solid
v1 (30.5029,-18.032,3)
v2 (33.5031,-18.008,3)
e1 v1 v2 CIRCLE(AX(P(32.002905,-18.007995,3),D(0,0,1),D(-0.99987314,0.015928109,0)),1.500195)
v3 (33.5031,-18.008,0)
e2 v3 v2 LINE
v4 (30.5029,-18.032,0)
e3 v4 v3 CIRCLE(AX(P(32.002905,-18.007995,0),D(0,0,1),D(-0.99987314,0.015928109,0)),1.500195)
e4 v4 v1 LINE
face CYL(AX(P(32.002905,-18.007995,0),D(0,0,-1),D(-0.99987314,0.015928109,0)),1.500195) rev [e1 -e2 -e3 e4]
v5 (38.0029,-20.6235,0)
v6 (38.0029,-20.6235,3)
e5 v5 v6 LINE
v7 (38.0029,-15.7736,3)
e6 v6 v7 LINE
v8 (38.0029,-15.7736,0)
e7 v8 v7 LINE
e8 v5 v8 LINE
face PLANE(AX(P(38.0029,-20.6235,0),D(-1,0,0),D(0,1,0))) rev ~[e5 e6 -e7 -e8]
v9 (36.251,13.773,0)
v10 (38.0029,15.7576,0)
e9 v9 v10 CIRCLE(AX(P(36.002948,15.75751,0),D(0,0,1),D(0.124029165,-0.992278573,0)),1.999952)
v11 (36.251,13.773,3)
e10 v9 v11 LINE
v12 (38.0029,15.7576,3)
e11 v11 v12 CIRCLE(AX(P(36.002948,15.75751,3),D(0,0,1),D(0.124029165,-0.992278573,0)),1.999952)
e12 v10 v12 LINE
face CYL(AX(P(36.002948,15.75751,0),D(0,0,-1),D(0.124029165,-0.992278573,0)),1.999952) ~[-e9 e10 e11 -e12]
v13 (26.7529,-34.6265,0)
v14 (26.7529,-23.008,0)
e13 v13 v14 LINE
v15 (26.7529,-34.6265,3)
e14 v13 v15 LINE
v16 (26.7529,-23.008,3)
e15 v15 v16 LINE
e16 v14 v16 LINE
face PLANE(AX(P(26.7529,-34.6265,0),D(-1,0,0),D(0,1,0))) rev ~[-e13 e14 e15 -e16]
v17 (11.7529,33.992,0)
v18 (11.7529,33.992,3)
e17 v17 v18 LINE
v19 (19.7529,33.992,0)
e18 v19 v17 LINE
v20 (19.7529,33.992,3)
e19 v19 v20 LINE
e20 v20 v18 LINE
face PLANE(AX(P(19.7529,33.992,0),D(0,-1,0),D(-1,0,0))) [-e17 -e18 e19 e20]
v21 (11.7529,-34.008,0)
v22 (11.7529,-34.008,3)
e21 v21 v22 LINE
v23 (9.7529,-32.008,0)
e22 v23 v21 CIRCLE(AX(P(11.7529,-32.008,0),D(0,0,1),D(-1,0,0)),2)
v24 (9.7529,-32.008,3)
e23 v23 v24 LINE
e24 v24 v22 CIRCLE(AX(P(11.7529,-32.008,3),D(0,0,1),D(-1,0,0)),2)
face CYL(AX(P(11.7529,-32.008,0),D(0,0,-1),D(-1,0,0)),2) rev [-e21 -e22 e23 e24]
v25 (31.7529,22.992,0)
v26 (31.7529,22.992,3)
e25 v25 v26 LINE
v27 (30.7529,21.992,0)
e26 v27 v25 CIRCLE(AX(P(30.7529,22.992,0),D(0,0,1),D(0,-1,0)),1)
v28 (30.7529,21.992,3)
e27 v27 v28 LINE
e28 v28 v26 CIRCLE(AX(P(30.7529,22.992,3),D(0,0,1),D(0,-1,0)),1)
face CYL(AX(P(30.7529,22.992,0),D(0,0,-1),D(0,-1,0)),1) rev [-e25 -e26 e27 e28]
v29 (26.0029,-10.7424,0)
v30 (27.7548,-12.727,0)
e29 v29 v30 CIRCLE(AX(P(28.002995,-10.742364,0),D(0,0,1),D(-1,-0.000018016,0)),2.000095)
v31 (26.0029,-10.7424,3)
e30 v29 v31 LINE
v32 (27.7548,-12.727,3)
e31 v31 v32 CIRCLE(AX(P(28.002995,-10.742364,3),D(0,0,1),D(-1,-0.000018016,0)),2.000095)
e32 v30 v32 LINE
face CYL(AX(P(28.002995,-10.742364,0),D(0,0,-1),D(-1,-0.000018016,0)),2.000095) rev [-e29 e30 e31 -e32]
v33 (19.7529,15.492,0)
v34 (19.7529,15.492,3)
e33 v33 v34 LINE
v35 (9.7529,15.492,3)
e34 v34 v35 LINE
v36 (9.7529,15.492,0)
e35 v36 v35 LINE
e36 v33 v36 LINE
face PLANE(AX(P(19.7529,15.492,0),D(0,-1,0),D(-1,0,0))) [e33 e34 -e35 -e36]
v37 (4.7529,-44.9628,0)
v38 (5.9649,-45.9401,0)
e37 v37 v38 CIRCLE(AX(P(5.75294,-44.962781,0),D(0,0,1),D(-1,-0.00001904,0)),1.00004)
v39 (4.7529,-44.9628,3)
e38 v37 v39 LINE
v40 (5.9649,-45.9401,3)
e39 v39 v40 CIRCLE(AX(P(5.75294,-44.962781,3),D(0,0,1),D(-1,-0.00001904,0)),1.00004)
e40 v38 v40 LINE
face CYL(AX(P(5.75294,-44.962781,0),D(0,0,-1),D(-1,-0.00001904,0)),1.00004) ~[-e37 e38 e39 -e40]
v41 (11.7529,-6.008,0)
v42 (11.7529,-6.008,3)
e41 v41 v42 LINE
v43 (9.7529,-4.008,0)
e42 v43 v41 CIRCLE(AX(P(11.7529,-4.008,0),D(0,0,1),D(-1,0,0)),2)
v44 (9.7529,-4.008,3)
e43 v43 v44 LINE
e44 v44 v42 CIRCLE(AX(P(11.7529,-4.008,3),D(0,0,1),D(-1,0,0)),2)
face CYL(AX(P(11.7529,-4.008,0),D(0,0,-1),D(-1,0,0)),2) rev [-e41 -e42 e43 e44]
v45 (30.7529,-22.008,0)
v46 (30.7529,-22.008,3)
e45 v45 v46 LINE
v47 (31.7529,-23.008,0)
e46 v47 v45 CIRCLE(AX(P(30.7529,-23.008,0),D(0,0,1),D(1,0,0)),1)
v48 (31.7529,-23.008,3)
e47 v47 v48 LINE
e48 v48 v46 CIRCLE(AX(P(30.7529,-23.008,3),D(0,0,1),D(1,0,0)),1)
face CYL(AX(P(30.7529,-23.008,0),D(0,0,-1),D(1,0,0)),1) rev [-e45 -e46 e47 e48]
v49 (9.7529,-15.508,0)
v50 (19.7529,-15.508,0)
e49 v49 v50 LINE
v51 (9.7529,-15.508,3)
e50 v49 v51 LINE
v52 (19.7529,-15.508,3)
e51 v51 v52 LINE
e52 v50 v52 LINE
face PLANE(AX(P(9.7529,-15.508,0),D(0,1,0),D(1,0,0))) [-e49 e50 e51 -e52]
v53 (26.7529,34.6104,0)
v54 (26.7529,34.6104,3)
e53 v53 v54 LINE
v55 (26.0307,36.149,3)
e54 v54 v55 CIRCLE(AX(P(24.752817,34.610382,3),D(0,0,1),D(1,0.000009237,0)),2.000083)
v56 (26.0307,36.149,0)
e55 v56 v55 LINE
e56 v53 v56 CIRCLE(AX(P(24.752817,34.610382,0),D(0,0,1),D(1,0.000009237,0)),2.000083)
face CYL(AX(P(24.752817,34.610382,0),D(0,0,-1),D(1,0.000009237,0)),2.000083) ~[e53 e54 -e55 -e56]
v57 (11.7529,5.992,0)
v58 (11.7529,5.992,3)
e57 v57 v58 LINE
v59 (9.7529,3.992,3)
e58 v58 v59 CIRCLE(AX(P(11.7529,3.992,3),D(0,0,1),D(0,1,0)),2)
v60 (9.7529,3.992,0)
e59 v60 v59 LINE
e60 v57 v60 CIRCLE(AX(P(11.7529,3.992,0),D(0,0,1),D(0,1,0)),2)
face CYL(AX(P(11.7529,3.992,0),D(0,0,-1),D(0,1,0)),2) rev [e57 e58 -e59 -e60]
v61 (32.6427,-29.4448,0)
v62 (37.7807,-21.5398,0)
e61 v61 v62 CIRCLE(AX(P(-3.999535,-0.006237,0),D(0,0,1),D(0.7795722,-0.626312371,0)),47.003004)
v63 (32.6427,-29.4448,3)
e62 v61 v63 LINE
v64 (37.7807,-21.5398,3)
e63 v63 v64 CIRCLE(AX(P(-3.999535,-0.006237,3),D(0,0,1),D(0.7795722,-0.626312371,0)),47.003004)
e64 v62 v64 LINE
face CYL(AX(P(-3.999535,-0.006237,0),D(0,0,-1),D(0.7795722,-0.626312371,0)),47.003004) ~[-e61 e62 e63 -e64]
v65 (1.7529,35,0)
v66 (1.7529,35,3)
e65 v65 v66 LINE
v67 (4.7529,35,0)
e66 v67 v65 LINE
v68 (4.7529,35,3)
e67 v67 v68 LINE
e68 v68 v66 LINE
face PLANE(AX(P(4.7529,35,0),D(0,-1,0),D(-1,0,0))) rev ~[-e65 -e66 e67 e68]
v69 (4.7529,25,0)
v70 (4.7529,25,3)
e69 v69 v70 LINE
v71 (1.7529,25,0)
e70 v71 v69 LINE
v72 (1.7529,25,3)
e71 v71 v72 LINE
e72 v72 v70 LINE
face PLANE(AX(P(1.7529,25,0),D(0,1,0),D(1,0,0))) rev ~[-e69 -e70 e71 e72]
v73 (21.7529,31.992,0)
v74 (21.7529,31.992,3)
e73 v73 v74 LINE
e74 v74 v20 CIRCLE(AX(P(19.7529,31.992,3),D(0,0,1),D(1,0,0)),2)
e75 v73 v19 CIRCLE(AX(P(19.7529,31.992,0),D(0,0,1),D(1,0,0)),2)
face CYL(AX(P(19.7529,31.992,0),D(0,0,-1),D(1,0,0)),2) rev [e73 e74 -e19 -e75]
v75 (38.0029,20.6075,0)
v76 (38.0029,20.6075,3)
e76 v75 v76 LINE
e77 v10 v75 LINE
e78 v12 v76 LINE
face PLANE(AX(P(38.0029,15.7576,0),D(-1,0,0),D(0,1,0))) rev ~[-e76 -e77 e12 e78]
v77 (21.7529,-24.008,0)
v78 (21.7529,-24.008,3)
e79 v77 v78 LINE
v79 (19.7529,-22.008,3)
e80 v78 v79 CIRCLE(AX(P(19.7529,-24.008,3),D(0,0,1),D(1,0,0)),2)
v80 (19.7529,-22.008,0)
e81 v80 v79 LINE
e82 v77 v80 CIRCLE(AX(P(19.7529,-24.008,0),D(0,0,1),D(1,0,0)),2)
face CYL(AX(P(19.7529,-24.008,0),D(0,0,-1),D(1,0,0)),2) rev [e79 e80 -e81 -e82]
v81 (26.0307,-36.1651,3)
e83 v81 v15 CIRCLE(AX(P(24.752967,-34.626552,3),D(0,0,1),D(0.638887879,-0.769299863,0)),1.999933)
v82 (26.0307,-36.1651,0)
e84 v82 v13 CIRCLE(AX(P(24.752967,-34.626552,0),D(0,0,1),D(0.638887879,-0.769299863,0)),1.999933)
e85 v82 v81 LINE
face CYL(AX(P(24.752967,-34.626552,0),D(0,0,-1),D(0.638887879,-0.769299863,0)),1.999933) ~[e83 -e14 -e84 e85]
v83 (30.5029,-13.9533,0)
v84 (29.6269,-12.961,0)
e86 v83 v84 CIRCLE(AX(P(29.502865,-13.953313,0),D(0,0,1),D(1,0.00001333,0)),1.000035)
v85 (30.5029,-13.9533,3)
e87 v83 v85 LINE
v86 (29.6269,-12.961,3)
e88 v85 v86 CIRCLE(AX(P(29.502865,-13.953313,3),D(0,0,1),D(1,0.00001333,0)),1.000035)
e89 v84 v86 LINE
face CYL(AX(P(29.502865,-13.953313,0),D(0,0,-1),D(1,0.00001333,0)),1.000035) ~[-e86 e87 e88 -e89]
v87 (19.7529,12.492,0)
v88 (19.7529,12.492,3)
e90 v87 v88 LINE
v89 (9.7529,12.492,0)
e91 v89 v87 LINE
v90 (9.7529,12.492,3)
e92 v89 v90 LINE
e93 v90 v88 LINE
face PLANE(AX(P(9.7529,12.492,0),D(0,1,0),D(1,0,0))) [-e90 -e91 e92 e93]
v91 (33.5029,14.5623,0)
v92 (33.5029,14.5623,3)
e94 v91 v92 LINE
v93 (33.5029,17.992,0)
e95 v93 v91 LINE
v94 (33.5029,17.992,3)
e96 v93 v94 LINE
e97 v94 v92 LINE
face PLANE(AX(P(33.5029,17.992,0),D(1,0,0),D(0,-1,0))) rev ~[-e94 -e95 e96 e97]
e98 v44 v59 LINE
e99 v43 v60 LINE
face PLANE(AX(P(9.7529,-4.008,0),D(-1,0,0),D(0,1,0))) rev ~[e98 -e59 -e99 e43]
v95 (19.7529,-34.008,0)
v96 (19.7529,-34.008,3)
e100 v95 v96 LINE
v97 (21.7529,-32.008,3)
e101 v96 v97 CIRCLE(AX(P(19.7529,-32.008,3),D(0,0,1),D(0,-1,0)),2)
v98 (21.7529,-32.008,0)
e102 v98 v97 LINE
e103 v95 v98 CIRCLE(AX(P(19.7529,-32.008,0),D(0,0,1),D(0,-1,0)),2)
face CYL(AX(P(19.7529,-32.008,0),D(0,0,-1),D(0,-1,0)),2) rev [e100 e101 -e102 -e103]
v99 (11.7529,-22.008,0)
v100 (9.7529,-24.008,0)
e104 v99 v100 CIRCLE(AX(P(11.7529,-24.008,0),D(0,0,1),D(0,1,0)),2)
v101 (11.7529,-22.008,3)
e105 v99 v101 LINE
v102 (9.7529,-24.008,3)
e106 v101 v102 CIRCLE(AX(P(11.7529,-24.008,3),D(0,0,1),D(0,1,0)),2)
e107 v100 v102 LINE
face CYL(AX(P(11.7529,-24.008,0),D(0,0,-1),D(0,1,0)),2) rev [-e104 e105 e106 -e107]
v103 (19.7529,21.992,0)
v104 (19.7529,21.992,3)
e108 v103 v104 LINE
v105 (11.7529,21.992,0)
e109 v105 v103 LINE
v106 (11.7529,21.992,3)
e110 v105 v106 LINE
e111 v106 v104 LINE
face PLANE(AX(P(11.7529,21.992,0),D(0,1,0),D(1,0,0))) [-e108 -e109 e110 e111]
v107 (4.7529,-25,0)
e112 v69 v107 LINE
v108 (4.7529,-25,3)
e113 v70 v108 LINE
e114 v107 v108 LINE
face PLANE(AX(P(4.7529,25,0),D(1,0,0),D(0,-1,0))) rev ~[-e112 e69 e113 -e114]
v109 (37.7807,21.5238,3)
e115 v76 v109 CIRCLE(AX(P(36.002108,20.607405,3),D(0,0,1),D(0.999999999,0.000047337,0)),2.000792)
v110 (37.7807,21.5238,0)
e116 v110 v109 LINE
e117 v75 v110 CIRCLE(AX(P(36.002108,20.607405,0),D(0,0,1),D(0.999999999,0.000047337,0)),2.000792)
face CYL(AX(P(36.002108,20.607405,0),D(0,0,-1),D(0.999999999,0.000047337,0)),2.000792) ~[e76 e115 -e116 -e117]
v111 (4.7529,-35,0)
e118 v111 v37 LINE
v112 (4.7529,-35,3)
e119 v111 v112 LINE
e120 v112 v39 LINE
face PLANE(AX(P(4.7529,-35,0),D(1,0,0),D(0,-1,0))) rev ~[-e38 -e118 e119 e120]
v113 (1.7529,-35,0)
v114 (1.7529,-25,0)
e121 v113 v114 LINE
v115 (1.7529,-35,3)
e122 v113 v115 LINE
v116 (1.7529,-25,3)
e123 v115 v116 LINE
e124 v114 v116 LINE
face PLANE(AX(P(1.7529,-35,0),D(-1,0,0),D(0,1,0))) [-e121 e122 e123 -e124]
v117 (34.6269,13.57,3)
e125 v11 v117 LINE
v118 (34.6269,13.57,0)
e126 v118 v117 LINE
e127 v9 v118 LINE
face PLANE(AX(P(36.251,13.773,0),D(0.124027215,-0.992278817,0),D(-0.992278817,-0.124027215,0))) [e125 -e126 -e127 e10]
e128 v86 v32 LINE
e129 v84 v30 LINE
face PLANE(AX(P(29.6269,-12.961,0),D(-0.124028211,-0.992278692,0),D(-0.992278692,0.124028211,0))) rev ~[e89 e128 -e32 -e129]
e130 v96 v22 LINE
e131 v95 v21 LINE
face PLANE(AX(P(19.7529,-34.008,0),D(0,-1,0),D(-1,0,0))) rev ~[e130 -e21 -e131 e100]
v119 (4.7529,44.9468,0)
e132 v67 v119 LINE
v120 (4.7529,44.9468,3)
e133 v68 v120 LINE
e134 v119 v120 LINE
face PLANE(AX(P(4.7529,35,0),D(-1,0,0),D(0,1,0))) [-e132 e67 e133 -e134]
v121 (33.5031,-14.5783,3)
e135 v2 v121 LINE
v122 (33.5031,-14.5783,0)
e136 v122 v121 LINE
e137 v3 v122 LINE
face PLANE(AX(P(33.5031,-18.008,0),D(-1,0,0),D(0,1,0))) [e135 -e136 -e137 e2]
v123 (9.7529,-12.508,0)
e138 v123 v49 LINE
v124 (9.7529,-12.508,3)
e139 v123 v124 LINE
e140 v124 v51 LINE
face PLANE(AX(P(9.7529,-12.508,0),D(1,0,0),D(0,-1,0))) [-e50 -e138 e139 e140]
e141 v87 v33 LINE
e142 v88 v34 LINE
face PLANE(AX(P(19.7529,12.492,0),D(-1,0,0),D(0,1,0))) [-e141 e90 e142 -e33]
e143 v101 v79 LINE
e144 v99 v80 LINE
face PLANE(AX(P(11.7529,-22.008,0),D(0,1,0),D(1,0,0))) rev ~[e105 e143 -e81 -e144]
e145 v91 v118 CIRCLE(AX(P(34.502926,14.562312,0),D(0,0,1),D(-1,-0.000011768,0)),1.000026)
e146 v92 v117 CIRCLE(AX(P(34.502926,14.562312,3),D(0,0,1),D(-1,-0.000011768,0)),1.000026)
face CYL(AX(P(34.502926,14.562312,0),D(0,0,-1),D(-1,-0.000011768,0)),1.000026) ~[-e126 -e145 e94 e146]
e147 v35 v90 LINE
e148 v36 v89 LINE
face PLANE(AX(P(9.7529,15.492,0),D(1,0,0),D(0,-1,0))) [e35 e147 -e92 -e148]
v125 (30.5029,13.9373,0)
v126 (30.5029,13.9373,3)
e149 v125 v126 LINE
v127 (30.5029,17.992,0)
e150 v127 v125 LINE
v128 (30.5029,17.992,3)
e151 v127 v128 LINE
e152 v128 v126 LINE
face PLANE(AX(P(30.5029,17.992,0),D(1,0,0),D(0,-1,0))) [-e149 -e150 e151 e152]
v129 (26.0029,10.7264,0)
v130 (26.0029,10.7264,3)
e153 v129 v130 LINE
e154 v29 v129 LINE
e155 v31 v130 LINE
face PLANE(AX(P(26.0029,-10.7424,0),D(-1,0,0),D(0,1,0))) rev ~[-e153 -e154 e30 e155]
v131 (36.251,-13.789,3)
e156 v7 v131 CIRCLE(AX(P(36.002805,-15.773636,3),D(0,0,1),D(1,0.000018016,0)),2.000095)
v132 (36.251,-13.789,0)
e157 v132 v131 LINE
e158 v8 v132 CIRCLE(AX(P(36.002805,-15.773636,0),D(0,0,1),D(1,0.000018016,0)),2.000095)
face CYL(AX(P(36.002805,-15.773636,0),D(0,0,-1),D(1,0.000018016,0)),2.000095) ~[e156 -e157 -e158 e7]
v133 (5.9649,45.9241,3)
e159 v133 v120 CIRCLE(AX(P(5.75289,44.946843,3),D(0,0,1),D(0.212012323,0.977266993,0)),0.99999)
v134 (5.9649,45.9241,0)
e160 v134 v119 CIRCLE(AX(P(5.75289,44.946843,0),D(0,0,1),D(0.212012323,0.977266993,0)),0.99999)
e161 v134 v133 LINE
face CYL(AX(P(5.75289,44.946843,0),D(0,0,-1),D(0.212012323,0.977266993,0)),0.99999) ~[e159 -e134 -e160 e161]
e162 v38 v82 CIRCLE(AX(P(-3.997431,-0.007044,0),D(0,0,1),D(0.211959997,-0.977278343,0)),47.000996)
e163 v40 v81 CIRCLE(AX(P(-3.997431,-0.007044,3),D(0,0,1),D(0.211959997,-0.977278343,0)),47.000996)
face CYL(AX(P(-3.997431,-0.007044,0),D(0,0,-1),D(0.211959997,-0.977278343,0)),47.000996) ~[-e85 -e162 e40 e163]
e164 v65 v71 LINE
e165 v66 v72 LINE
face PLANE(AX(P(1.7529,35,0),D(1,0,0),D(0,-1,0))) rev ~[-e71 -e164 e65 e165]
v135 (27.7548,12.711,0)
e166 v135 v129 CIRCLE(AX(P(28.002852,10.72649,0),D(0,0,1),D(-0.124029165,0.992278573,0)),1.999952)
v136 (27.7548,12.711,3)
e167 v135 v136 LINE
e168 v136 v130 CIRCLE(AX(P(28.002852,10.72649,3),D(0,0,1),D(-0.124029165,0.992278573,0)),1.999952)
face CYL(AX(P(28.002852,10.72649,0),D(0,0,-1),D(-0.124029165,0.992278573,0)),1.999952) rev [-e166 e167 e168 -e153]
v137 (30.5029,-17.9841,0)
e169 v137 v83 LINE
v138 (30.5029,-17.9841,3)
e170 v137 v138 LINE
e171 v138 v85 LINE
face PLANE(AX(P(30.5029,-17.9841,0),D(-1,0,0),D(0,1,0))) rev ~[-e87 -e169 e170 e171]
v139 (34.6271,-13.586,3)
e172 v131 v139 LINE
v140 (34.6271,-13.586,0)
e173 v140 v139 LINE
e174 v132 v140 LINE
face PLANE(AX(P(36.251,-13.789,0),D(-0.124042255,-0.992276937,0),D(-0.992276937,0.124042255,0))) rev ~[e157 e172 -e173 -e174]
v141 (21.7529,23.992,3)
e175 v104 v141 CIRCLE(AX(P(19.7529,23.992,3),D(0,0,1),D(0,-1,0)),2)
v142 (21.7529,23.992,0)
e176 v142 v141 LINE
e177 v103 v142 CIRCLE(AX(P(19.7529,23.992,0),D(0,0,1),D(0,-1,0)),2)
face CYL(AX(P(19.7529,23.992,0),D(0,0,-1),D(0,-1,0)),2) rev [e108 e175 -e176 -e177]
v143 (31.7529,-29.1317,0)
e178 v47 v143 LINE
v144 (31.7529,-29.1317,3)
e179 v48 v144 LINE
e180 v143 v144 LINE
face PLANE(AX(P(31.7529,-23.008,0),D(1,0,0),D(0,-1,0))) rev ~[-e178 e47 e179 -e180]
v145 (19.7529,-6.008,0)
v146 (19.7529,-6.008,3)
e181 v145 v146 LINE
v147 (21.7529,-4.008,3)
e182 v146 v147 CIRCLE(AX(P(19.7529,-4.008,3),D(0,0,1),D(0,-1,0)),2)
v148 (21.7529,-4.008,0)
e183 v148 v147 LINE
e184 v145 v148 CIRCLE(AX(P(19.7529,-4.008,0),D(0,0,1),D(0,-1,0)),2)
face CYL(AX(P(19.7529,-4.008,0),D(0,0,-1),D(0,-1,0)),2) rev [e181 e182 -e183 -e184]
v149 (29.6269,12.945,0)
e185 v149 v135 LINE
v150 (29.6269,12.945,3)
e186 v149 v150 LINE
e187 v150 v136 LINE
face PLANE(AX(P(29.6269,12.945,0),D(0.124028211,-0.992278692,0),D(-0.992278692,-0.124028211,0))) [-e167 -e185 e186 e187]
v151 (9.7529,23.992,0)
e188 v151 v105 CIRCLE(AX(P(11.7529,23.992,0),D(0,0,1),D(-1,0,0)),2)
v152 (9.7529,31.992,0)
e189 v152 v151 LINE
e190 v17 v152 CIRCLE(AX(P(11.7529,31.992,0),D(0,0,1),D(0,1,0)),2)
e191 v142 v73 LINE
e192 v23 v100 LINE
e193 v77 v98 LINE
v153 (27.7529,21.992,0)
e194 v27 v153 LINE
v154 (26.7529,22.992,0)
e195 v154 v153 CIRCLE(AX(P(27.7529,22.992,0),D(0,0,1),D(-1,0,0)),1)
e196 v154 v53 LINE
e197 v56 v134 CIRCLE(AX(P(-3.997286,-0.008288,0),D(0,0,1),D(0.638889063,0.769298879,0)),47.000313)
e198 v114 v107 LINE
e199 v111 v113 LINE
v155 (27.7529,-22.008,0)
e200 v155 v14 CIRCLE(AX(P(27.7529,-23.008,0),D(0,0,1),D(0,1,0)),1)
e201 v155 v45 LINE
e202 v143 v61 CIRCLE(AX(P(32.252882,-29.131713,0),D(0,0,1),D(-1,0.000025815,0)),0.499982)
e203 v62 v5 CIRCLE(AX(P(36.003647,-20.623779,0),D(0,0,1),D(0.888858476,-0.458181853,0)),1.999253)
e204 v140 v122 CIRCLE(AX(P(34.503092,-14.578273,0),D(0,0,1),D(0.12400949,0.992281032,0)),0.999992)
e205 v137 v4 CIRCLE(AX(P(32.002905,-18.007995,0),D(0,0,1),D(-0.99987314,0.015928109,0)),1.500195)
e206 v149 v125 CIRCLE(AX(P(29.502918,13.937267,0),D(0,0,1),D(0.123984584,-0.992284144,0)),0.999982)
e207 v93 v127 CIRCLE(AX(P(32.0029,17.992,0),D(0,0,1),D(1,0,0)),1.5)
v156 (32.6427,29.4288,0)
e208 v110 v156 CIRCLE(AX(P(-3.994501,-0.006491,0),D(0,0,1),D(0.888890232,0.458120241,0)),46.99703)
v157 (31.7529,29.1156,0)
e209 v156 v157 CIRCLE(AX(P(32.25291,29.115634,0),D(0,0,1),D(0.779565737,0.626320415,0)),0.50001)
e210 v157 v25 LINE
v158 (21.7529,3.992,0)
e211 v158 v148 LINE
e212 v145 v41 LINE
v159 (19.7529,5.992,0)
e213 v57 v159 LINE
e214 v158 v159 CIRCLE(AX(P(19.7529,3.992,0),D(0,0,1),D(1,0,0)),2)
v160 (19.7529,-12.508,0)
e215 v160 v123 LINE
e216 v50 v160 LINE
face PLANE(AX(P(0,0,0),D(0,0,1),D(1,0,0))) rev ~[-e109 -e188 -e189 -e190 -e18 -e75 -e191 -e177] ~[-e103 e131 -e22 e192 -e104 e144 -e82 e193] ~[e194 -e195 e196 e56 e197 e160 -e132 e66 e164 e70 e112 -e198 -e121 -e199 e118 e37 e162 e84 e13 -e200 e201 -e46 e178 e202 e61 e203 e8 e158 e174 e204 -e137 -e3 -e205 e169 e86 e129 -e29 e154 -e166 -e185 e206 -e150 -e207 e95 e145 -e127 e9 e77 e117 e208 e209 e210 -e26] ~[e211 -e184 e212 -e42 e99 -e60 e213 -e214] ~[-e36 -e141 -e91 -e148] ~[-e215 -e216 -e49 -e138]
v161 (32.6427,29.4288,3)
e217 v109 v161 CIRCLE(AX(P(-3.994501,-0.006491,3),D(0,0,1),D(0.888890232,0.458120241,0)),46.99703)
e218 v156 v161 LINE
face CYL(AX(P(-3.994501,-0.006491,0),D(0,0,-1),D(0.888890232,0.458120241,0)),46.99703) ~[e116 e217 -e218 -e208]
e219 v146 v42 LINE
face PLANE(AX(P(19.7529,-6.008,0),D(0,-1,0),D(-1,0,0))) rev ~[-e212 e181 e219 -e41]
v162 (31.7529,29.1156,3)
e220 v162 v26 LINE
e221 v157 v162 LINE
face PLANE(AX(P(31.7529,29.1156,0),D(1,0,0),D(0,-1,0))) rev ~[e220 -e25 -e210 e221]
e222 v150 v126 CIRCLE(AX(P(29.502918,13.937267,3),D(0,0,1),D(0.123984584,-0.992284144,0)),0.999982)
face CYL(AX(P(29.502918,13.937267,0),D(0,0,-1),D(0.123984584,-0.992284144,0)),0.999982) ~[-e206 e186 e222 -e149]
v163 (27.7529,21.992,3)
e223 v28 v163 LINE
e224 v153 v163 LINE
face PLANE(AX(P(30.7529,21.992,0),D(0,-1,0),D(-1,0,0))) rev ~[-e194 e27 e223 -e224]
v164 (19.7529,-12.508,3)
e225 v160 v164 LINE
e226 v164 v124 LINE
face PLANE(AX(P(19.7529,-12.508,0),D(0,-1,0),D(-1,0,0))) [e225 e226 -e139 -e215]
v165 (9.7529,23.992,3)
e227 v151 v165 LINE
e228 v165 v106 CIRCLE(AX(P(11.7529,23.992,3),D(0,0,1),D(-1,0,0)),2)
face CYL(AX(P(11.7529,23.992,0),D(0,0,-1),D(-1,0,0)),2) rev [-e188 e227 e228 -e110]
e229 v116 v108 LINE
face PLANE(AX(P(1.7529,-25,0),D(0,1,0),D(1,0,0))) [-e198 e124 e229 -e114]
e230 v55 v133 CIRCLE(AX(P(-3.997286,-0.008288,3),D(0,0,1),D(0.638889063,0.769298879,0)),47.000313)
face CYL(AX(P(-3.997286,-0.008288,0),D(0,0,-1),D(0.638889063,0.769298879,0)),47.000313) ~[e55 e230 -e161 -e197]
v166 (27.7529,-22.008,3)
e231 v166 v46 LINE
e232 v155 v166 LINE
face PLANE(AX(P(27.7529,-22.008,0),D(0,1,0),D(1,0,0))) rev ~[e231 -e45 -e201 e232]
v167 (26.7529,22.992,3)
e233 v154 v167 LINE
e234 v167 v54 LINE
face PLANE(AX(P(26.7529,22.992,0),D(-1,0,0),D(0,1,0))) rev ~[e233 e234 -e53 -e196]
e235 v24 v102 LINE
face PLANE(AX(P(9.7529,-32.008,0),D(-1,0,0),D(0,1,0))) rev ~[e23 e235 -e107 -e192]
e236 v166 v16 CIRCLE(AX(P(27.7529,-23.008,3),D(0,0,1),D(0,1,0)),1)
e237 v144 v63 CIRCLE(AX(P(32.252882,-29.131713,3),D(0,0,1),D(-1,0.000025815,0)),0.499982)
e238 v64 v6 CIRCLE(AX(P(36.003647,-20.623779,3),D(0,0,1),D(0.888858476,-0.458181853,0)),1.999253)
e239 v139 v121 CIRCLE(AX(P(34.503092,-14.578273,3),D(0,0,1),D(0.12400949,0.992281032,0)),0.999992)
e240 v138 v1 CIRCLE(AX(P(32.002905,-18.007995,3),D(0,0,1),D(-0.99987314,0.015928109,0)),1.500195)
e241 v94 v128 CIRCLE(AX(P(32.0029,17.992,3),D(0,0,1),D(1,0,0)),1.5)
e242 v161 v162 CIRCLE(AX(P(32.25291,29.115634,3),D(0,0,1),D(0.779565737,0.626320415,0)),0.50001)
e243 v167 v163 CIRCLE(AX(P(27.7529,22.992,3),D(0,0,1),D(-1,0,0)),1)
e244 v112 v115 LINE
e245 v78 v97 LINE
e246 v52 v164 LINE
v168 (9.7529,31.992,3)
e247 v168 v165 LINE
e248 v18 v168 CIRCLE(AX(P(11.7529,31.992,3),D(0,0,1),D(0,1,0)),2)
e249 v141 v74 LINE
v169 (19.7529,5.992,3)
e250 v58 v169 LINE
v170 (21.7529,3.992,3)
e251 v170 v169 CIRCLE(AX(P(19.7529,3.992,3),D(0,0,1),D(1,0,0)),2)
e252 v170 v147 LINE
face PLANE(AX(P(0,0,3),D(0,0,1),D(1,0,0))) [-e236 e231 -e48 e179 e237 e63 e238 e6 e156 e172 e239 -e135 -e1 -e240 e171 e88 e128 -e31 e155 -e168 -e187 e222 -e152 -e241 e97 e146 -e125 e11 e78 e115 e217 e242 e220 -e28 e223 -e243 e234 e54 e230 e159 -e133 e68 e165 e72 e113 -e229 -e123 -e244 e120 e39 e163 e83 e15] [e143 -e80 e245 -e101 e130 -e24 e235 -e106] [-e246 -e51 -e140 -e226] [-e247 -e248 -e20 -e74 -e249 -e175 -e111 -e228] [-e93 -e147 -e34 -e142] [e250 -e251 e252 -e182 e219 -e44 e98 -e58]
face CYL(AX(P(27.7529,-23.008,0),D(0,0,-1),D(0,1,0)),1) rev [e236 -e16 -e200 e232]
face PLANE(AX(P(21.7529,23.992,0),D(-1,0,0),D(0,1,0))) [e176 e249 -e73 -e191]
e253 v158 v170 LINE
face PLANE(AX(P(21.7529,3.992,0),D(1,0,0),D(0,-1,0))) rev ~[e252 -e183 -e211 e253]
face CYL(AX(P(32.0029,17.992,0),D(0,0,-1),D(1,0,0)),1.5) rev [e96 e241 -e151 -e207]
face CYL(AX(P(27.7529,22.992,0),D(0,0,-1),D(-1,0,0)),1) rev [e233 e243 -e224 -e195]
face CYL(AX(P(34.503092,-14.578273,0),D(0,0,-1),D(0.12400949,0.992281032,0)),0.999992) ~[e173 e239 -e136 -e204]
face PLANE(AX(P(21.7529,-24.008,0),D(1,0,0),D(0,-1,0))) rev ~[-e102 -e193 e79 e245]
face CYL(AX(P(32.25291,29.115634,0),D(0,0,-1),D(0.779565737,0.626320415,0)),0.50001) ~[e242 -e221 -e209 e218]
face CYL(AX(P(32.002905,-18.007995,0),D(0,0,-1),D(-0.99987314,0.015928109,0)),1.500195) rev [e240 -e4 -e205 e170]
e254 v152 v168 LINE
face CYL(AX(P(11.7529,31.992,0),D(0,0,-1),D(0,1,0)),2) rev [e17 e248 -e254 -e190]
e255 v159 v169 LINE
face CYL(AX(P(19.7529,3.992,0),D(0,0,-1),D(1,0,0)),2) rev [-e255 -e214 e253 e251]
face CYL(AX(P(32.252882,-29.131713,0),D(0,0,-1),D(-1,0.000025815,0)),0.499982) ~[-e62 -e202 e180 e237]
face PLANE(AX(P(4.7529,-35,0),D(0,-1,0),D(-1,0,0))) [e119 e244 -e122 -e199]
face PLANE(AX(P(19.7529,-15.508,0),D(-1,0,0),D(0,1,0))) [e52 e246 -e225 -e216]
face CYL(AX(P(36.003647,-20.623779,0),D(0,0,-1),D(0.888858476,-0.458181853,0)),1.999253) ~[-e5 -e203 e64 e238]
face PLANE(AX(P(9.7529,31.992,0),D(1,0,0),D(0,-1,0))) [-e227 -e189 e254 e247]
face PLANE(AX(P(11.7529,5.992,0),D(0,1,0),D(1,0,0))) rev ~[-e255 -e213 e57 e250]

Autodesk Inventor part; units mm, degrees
ref_plane "YZ Plane" through (0, 0, 0) normal (1, 0, 0) x (0, 1, 0)
ref_plane "XZ Plane" through (0, 0, 0) normal (0, 1, 0) x (-1, 0, 0)
ref_plane "XY Plane" through (0, 0, 0) normal (0, 0, 1) x (1, 0, 0)
sketch "Sketch1" plane through (0, 0, 0) normal (0, 0, 1) x (1, 0, 0)
  line L0 (1.7529, 25) -> (4.7529, 25)
  line L1 (4.7529, 35) -> (1.7529, 35)
  line L2 (1.7529, 35) -> (1.7529, 25)
  line L3 (1.7529, -25) -> (4.7529, -25)
  line L4 (4.7529, -35) -> (1.7529, -35)
  line L5 (1.7529, -35) -> (1.7529, -25)
  line L6 (26.0029, -10.7424) -> (26.0029, 10.7264)
  line L7 (38.0029, -20.6235) -> (38.0029, -15.7736)
  line L8 (38.0029, 15.7576) -> (38.0029, 20.6075)
  line L9 (36.251, 13.773) -> (34.6269, 13.57)
  line L10 (29.6269, 12.945) -> (27.7548, 12.711)
  line L11 (36.251, -13.789) -> (34.6271, -13.586)
  line L12 (29.6269, -12.961) -> (27.7548, -12.727)
  arc A0 (26.0029, -10.7424) -> (27.7548, -12.727) centre (28.0029, -10.7424) ccw
  arc A1 (27.7548, 12.711) -> (26.0029, 10.7264) centre (28.0029, 10.7264) ccw
  arc A2 (38.0029, -15.7736) -> (36.251, -13.789) centre (36.0029, -15.7736) ccw
  arc A3 (36.251, 13.773) -> (38.0029, 15.7576) centre (36.0029, 15.7576) ccw
  arc A4 (30.5029, -13.9533) -> (29.6269, -12.961) centre (29.5029, -13.9533) ccw
  arc A5 (34.6271, -13.586) -> (33.5031, -14.5783) centre (34.5031, -14.5783) ccw
  arc A6 (33.5029, 14.5623) -> (34.6269, 13.57) centre (34.5029, 14.5623) ccw
  arc A7 (29.6269, 12.945) -> (30.5029, 13.9373) centre (29.5029, 13.9373) ccw
  arc A8 (38.0029, 20.6075) -> (37.7807, 21.5238) centre (36.0029, 20.6075) ccw
  arc A9 (37.7807, -21.5398) -> (38.0029, -20.6235) centre (36.0029, -20.6235) ccw
  line L13 (4.7529, -35) -> (4.7529, -44.9628)
  line L14 (4.7529, 35) -> (4.7529, 44.9468)
  line L15 (4.7529, 25) -> (4.7529, -25)
  line L16 (9.7529, -15.508) -> (19.7529, -15.508)
  line L17 (19.7529, -15.508) -> (19.7529, -12.508)
  line L18 (19.7529, -12.508) -> (9.7529, -12.508)
  line L19 (9.7529, -12.508) -> (9.7529, -15.508)
  line L20 (9.7529, 12.492) -> (19.7529, 12.492)
  line L21 (19.7529, 12.492) -> (19.7529, 15.492)
  line L22 (19.7529, 15.492) -> (9.7529, 15.492)
  line L23 (9.7529, 15.492) -> (9.7529, 12.492)
  arc A10 (4.7529, -44.9628) -> (5.9649, -45.9401) centre (5.7529, -44.9628) ccw
  arc A11 (5.9649, 45.9241) -> (4.7529, 44.9468) centre (5.7529, 44.9468) ccw
  line L24 (19.7529, -6.008) -> (11.7529, -6.008)
  line L25 (9.7529, -4.008) -> (9.7529, 3.992)
  line L26 (11.7529, 5.992) -> (19.7529, 5.992)
  line L27 (21.7529, 3.992) -> (21.7529, -4.008)
  line L28 (11.7529, 21.992) -> (19.7529, 21.992)
  line L29 (21.7529, 23.992) -> (21.7529, 31.992)
  line L30 (19.7529, 33.992) -> (11.7529, 33.992)
  line L31 (9.7529, 31.992) -> (9.7529, 23.992)
  line L32 (11.7529, -22.008) -> (19.7529, -22.008)
  line L33 (21.7529, -24.008) -> (21.7529, -32.008)
  line L34 (19.7529, -34.008) -> (11.7529, -34.008)
  line L35 (9.7529, -32.008) -> (9.7529, -24.008)
  arc A12 (11.7529, 5.992) -> (9.7529, 3.992) centre (11.7529, 3.992) ccw
  arc A13 (21.7529, 3.992) -> (19.7529, 5.992) centre (19.7529, 3.992) ccw
  arc A14 (19.7529, -6.008) -> (21.7529, -4.008) centre (19.7529, -4.008) ccw
  arc A15 (9.7529, -4.008) -> (11.7529, -6.008) centre (11.7529, -4.008) ccw
  arc A16 (11.7529, -22.008) -> (9.7529, -24.008) centre (11.7529, -24.008) ccw
  arc A17 (21.7529, -24.008) -> (19.7529, -22.008) centre (19.7529, -24.008) ccw
  arc A18 (19.7529, -34.008) -> (21.7529, -32.008) centre (19.7529, -32.008) ccw
  arc A19 (9.7529, -32.008) -> (11.7529, -34.008) centre (11.7529, -32.008) ccw
  arc A20 (11.7529, 33.992) -> (9.7529, 31.992) centre (11.7529, 31.992) ccw
  arc A21 (21.7529, 31.992) -> (19.7529, 33.992) centre (19.7529, 31.992) ccw
  arc A22 (19.7529, 21.992) -> (21.7529, 23.992) centre (19.7529, 23.992) ccw
  arc A23 (9.7529, 23.992) -> (11.7529, 21.992) centre (11.7529, 23.992) ccw
  line L36 (31.7529, 29.1156) -> (31.7529, 22.992)
  line L37 (30.7529, 21.992) -> (27.7529, 21.992)
  line L38 (26.7529, 22.992) -> (26.7529, 34.6104)
  arc A24 (37.7807, 21.5238) -> (32.6427, 29.4288) centre (-3.9971, -0.008) ccw
  arc A25 (26.0307, 36.149) -> (5.9649, 45.9241) centre (-3.9971, -0.008) ccw
  line L39 (27.7529, -22.008) -> (30.7529, -22.008)
  line L40 (31.7529, -23.008) -> (31.7529, -29.1317)
  line L41 (26.7529, -34.6265) -> (26.7529, -23.008)
  arc A26 (5.9649, -45.9401) -> (26.0307, -36.1651) centre (-3.9971, -0.008) ccw
  arc A27 (32.6427, -29.4448) -> (37.7807, -21.5398) centre (-3.9971, -0.008) ccw
  arc A28 (32.6427, 29.4288) -> (31.7529, 29.1156) centre (32.2529, 29.1156) ccw
  arc A29 (31.7529, -29.1317) -> (32.6427, -29.4448) centre (32.2529, -29.1317) ccw
  arc A30 (26.0307, -36.1651) -> (26.7529, -34.6265) centre (24.7529, -34.6265) ccw
  arc A31 (26.7529, 34.6104) -> (26.0307, 36.149) centre (24.7529, 34.6104) ccw
  arc A32 (30.7529, 21.992) -> (31.7529, 22.992) centre (30.7529, 22.992) ccw
  arc A33 (26.7529, 22.992) -> (27.7529, 21.992) centre (27.7529, 22.992) ccw
  arc A34 (31.7529, -23.008) -> (30.7529, -22.008) centre (30.7529, -23.008) ccw
  arc A35 (27.7529, -22.008) -> (26.7529, -23.008) centre (27.7529, -23.008) ccw
  arc A36 (30.5029, -17.9841) -> (33.5031, -18.008) centre (32.0029, -18.008) ccw
  arc A37 (33.5029, 17.992) -> (30.5029, 17.992) centre (32.0029, 17.992) ccw
  line L42 (30.5029, 17.992) -> (30.5029, 13.9373)
  line L43 (33.5029, 17.992) -> (33.5029, 14.5623)
  line L44 (30.5029, -18.032) -> (30.5029, -13.9533)
  line L45 (33.5031, -18.008) -> (33.5031, -14.5783)
  point P0 (4.7529, -46.1863)
  point P1 (4.7529, 46.1703)
  point P2 (38.0029, -21.103)
  point P3 (38.0029, 21.087)
  point P4 (38.0029, -14.008)
  point P5 (38.0029, 13.992)
  point P6 (26.0029, -12.508)
  point P7 (9.7529, 5.992)
  point P8 (9.7529, -6.008)
  point P9 (21.7529, 5.992)
  point P10 (21.7529, 33.992)
  point P11 (21.7529, 21.992)
  point P12 (9.7529, 33.992)
  point P13 (21.7529, -34.008)
  point P14 (21.7529, -22.008)
  point P15 (9.7529, -34.008)
  point P16 (26.7529, 35.5369)
  point P17 (31.7529, 30.5033)
  point P18 (26.7529, -22.008)
  point P19 (26.7529, -35.5529)
  point P20 (31.7529, -30.5193)
  dimension "d13" = 10
  dimension "d17" = 10
  dimension "d70" = 3
  dimension "d72" = 3
  dimension "d88" = 28
  dimension "d90" = 1.5
  dimension "d92" = 14
  dimension "d99" = 2
  dimension "d100" = 2
  dimension "d101" = 1
  dimension "d102" = 2
  dimension "d105" = 10
  dimension "d106" = 3
  dimension "d107" = 10
  dimension "d108" = 3
  dimension "d109" = 5
  dimension "d110" = 5
  dimension "d111" = 25
  dimension "d112" = 12.5
  dimension "d115" = 1
  dimension "d117" = 8.75
  dimension "d118" = 12
  dimension "d119" = 12
  dimension "d120" = 5
  dimension "d121" = 6.5
  dimension "d123" = 5
  dimension "d126" = 6.5
  dimension "d127" = 12
  dimension "d128" = 12
  dimension "d129" = 6.5
  dimension "d130" = 12
  dimension "d131" = 12
  dimension "d132" = 2
  dimension "d135" = 5
  dimension "d136" = 5
  dimension "d137" = 5
  dimension "d138" = 6.5
  dimension "d139" = 5
  dimension "d140" = 5
  dimension "d141" = 0.5
  dimension "d142" = 2
  dimension "d143" = 1
  dimension "d144" = 3
  dimension "d147" = 4
  dimension "d148" = 4
extrude "Extrusion8" add sketch "Sketch1" along normal blind 3
properties part number "OpenROV 2.3 Dev EBoard Plug Mount"
